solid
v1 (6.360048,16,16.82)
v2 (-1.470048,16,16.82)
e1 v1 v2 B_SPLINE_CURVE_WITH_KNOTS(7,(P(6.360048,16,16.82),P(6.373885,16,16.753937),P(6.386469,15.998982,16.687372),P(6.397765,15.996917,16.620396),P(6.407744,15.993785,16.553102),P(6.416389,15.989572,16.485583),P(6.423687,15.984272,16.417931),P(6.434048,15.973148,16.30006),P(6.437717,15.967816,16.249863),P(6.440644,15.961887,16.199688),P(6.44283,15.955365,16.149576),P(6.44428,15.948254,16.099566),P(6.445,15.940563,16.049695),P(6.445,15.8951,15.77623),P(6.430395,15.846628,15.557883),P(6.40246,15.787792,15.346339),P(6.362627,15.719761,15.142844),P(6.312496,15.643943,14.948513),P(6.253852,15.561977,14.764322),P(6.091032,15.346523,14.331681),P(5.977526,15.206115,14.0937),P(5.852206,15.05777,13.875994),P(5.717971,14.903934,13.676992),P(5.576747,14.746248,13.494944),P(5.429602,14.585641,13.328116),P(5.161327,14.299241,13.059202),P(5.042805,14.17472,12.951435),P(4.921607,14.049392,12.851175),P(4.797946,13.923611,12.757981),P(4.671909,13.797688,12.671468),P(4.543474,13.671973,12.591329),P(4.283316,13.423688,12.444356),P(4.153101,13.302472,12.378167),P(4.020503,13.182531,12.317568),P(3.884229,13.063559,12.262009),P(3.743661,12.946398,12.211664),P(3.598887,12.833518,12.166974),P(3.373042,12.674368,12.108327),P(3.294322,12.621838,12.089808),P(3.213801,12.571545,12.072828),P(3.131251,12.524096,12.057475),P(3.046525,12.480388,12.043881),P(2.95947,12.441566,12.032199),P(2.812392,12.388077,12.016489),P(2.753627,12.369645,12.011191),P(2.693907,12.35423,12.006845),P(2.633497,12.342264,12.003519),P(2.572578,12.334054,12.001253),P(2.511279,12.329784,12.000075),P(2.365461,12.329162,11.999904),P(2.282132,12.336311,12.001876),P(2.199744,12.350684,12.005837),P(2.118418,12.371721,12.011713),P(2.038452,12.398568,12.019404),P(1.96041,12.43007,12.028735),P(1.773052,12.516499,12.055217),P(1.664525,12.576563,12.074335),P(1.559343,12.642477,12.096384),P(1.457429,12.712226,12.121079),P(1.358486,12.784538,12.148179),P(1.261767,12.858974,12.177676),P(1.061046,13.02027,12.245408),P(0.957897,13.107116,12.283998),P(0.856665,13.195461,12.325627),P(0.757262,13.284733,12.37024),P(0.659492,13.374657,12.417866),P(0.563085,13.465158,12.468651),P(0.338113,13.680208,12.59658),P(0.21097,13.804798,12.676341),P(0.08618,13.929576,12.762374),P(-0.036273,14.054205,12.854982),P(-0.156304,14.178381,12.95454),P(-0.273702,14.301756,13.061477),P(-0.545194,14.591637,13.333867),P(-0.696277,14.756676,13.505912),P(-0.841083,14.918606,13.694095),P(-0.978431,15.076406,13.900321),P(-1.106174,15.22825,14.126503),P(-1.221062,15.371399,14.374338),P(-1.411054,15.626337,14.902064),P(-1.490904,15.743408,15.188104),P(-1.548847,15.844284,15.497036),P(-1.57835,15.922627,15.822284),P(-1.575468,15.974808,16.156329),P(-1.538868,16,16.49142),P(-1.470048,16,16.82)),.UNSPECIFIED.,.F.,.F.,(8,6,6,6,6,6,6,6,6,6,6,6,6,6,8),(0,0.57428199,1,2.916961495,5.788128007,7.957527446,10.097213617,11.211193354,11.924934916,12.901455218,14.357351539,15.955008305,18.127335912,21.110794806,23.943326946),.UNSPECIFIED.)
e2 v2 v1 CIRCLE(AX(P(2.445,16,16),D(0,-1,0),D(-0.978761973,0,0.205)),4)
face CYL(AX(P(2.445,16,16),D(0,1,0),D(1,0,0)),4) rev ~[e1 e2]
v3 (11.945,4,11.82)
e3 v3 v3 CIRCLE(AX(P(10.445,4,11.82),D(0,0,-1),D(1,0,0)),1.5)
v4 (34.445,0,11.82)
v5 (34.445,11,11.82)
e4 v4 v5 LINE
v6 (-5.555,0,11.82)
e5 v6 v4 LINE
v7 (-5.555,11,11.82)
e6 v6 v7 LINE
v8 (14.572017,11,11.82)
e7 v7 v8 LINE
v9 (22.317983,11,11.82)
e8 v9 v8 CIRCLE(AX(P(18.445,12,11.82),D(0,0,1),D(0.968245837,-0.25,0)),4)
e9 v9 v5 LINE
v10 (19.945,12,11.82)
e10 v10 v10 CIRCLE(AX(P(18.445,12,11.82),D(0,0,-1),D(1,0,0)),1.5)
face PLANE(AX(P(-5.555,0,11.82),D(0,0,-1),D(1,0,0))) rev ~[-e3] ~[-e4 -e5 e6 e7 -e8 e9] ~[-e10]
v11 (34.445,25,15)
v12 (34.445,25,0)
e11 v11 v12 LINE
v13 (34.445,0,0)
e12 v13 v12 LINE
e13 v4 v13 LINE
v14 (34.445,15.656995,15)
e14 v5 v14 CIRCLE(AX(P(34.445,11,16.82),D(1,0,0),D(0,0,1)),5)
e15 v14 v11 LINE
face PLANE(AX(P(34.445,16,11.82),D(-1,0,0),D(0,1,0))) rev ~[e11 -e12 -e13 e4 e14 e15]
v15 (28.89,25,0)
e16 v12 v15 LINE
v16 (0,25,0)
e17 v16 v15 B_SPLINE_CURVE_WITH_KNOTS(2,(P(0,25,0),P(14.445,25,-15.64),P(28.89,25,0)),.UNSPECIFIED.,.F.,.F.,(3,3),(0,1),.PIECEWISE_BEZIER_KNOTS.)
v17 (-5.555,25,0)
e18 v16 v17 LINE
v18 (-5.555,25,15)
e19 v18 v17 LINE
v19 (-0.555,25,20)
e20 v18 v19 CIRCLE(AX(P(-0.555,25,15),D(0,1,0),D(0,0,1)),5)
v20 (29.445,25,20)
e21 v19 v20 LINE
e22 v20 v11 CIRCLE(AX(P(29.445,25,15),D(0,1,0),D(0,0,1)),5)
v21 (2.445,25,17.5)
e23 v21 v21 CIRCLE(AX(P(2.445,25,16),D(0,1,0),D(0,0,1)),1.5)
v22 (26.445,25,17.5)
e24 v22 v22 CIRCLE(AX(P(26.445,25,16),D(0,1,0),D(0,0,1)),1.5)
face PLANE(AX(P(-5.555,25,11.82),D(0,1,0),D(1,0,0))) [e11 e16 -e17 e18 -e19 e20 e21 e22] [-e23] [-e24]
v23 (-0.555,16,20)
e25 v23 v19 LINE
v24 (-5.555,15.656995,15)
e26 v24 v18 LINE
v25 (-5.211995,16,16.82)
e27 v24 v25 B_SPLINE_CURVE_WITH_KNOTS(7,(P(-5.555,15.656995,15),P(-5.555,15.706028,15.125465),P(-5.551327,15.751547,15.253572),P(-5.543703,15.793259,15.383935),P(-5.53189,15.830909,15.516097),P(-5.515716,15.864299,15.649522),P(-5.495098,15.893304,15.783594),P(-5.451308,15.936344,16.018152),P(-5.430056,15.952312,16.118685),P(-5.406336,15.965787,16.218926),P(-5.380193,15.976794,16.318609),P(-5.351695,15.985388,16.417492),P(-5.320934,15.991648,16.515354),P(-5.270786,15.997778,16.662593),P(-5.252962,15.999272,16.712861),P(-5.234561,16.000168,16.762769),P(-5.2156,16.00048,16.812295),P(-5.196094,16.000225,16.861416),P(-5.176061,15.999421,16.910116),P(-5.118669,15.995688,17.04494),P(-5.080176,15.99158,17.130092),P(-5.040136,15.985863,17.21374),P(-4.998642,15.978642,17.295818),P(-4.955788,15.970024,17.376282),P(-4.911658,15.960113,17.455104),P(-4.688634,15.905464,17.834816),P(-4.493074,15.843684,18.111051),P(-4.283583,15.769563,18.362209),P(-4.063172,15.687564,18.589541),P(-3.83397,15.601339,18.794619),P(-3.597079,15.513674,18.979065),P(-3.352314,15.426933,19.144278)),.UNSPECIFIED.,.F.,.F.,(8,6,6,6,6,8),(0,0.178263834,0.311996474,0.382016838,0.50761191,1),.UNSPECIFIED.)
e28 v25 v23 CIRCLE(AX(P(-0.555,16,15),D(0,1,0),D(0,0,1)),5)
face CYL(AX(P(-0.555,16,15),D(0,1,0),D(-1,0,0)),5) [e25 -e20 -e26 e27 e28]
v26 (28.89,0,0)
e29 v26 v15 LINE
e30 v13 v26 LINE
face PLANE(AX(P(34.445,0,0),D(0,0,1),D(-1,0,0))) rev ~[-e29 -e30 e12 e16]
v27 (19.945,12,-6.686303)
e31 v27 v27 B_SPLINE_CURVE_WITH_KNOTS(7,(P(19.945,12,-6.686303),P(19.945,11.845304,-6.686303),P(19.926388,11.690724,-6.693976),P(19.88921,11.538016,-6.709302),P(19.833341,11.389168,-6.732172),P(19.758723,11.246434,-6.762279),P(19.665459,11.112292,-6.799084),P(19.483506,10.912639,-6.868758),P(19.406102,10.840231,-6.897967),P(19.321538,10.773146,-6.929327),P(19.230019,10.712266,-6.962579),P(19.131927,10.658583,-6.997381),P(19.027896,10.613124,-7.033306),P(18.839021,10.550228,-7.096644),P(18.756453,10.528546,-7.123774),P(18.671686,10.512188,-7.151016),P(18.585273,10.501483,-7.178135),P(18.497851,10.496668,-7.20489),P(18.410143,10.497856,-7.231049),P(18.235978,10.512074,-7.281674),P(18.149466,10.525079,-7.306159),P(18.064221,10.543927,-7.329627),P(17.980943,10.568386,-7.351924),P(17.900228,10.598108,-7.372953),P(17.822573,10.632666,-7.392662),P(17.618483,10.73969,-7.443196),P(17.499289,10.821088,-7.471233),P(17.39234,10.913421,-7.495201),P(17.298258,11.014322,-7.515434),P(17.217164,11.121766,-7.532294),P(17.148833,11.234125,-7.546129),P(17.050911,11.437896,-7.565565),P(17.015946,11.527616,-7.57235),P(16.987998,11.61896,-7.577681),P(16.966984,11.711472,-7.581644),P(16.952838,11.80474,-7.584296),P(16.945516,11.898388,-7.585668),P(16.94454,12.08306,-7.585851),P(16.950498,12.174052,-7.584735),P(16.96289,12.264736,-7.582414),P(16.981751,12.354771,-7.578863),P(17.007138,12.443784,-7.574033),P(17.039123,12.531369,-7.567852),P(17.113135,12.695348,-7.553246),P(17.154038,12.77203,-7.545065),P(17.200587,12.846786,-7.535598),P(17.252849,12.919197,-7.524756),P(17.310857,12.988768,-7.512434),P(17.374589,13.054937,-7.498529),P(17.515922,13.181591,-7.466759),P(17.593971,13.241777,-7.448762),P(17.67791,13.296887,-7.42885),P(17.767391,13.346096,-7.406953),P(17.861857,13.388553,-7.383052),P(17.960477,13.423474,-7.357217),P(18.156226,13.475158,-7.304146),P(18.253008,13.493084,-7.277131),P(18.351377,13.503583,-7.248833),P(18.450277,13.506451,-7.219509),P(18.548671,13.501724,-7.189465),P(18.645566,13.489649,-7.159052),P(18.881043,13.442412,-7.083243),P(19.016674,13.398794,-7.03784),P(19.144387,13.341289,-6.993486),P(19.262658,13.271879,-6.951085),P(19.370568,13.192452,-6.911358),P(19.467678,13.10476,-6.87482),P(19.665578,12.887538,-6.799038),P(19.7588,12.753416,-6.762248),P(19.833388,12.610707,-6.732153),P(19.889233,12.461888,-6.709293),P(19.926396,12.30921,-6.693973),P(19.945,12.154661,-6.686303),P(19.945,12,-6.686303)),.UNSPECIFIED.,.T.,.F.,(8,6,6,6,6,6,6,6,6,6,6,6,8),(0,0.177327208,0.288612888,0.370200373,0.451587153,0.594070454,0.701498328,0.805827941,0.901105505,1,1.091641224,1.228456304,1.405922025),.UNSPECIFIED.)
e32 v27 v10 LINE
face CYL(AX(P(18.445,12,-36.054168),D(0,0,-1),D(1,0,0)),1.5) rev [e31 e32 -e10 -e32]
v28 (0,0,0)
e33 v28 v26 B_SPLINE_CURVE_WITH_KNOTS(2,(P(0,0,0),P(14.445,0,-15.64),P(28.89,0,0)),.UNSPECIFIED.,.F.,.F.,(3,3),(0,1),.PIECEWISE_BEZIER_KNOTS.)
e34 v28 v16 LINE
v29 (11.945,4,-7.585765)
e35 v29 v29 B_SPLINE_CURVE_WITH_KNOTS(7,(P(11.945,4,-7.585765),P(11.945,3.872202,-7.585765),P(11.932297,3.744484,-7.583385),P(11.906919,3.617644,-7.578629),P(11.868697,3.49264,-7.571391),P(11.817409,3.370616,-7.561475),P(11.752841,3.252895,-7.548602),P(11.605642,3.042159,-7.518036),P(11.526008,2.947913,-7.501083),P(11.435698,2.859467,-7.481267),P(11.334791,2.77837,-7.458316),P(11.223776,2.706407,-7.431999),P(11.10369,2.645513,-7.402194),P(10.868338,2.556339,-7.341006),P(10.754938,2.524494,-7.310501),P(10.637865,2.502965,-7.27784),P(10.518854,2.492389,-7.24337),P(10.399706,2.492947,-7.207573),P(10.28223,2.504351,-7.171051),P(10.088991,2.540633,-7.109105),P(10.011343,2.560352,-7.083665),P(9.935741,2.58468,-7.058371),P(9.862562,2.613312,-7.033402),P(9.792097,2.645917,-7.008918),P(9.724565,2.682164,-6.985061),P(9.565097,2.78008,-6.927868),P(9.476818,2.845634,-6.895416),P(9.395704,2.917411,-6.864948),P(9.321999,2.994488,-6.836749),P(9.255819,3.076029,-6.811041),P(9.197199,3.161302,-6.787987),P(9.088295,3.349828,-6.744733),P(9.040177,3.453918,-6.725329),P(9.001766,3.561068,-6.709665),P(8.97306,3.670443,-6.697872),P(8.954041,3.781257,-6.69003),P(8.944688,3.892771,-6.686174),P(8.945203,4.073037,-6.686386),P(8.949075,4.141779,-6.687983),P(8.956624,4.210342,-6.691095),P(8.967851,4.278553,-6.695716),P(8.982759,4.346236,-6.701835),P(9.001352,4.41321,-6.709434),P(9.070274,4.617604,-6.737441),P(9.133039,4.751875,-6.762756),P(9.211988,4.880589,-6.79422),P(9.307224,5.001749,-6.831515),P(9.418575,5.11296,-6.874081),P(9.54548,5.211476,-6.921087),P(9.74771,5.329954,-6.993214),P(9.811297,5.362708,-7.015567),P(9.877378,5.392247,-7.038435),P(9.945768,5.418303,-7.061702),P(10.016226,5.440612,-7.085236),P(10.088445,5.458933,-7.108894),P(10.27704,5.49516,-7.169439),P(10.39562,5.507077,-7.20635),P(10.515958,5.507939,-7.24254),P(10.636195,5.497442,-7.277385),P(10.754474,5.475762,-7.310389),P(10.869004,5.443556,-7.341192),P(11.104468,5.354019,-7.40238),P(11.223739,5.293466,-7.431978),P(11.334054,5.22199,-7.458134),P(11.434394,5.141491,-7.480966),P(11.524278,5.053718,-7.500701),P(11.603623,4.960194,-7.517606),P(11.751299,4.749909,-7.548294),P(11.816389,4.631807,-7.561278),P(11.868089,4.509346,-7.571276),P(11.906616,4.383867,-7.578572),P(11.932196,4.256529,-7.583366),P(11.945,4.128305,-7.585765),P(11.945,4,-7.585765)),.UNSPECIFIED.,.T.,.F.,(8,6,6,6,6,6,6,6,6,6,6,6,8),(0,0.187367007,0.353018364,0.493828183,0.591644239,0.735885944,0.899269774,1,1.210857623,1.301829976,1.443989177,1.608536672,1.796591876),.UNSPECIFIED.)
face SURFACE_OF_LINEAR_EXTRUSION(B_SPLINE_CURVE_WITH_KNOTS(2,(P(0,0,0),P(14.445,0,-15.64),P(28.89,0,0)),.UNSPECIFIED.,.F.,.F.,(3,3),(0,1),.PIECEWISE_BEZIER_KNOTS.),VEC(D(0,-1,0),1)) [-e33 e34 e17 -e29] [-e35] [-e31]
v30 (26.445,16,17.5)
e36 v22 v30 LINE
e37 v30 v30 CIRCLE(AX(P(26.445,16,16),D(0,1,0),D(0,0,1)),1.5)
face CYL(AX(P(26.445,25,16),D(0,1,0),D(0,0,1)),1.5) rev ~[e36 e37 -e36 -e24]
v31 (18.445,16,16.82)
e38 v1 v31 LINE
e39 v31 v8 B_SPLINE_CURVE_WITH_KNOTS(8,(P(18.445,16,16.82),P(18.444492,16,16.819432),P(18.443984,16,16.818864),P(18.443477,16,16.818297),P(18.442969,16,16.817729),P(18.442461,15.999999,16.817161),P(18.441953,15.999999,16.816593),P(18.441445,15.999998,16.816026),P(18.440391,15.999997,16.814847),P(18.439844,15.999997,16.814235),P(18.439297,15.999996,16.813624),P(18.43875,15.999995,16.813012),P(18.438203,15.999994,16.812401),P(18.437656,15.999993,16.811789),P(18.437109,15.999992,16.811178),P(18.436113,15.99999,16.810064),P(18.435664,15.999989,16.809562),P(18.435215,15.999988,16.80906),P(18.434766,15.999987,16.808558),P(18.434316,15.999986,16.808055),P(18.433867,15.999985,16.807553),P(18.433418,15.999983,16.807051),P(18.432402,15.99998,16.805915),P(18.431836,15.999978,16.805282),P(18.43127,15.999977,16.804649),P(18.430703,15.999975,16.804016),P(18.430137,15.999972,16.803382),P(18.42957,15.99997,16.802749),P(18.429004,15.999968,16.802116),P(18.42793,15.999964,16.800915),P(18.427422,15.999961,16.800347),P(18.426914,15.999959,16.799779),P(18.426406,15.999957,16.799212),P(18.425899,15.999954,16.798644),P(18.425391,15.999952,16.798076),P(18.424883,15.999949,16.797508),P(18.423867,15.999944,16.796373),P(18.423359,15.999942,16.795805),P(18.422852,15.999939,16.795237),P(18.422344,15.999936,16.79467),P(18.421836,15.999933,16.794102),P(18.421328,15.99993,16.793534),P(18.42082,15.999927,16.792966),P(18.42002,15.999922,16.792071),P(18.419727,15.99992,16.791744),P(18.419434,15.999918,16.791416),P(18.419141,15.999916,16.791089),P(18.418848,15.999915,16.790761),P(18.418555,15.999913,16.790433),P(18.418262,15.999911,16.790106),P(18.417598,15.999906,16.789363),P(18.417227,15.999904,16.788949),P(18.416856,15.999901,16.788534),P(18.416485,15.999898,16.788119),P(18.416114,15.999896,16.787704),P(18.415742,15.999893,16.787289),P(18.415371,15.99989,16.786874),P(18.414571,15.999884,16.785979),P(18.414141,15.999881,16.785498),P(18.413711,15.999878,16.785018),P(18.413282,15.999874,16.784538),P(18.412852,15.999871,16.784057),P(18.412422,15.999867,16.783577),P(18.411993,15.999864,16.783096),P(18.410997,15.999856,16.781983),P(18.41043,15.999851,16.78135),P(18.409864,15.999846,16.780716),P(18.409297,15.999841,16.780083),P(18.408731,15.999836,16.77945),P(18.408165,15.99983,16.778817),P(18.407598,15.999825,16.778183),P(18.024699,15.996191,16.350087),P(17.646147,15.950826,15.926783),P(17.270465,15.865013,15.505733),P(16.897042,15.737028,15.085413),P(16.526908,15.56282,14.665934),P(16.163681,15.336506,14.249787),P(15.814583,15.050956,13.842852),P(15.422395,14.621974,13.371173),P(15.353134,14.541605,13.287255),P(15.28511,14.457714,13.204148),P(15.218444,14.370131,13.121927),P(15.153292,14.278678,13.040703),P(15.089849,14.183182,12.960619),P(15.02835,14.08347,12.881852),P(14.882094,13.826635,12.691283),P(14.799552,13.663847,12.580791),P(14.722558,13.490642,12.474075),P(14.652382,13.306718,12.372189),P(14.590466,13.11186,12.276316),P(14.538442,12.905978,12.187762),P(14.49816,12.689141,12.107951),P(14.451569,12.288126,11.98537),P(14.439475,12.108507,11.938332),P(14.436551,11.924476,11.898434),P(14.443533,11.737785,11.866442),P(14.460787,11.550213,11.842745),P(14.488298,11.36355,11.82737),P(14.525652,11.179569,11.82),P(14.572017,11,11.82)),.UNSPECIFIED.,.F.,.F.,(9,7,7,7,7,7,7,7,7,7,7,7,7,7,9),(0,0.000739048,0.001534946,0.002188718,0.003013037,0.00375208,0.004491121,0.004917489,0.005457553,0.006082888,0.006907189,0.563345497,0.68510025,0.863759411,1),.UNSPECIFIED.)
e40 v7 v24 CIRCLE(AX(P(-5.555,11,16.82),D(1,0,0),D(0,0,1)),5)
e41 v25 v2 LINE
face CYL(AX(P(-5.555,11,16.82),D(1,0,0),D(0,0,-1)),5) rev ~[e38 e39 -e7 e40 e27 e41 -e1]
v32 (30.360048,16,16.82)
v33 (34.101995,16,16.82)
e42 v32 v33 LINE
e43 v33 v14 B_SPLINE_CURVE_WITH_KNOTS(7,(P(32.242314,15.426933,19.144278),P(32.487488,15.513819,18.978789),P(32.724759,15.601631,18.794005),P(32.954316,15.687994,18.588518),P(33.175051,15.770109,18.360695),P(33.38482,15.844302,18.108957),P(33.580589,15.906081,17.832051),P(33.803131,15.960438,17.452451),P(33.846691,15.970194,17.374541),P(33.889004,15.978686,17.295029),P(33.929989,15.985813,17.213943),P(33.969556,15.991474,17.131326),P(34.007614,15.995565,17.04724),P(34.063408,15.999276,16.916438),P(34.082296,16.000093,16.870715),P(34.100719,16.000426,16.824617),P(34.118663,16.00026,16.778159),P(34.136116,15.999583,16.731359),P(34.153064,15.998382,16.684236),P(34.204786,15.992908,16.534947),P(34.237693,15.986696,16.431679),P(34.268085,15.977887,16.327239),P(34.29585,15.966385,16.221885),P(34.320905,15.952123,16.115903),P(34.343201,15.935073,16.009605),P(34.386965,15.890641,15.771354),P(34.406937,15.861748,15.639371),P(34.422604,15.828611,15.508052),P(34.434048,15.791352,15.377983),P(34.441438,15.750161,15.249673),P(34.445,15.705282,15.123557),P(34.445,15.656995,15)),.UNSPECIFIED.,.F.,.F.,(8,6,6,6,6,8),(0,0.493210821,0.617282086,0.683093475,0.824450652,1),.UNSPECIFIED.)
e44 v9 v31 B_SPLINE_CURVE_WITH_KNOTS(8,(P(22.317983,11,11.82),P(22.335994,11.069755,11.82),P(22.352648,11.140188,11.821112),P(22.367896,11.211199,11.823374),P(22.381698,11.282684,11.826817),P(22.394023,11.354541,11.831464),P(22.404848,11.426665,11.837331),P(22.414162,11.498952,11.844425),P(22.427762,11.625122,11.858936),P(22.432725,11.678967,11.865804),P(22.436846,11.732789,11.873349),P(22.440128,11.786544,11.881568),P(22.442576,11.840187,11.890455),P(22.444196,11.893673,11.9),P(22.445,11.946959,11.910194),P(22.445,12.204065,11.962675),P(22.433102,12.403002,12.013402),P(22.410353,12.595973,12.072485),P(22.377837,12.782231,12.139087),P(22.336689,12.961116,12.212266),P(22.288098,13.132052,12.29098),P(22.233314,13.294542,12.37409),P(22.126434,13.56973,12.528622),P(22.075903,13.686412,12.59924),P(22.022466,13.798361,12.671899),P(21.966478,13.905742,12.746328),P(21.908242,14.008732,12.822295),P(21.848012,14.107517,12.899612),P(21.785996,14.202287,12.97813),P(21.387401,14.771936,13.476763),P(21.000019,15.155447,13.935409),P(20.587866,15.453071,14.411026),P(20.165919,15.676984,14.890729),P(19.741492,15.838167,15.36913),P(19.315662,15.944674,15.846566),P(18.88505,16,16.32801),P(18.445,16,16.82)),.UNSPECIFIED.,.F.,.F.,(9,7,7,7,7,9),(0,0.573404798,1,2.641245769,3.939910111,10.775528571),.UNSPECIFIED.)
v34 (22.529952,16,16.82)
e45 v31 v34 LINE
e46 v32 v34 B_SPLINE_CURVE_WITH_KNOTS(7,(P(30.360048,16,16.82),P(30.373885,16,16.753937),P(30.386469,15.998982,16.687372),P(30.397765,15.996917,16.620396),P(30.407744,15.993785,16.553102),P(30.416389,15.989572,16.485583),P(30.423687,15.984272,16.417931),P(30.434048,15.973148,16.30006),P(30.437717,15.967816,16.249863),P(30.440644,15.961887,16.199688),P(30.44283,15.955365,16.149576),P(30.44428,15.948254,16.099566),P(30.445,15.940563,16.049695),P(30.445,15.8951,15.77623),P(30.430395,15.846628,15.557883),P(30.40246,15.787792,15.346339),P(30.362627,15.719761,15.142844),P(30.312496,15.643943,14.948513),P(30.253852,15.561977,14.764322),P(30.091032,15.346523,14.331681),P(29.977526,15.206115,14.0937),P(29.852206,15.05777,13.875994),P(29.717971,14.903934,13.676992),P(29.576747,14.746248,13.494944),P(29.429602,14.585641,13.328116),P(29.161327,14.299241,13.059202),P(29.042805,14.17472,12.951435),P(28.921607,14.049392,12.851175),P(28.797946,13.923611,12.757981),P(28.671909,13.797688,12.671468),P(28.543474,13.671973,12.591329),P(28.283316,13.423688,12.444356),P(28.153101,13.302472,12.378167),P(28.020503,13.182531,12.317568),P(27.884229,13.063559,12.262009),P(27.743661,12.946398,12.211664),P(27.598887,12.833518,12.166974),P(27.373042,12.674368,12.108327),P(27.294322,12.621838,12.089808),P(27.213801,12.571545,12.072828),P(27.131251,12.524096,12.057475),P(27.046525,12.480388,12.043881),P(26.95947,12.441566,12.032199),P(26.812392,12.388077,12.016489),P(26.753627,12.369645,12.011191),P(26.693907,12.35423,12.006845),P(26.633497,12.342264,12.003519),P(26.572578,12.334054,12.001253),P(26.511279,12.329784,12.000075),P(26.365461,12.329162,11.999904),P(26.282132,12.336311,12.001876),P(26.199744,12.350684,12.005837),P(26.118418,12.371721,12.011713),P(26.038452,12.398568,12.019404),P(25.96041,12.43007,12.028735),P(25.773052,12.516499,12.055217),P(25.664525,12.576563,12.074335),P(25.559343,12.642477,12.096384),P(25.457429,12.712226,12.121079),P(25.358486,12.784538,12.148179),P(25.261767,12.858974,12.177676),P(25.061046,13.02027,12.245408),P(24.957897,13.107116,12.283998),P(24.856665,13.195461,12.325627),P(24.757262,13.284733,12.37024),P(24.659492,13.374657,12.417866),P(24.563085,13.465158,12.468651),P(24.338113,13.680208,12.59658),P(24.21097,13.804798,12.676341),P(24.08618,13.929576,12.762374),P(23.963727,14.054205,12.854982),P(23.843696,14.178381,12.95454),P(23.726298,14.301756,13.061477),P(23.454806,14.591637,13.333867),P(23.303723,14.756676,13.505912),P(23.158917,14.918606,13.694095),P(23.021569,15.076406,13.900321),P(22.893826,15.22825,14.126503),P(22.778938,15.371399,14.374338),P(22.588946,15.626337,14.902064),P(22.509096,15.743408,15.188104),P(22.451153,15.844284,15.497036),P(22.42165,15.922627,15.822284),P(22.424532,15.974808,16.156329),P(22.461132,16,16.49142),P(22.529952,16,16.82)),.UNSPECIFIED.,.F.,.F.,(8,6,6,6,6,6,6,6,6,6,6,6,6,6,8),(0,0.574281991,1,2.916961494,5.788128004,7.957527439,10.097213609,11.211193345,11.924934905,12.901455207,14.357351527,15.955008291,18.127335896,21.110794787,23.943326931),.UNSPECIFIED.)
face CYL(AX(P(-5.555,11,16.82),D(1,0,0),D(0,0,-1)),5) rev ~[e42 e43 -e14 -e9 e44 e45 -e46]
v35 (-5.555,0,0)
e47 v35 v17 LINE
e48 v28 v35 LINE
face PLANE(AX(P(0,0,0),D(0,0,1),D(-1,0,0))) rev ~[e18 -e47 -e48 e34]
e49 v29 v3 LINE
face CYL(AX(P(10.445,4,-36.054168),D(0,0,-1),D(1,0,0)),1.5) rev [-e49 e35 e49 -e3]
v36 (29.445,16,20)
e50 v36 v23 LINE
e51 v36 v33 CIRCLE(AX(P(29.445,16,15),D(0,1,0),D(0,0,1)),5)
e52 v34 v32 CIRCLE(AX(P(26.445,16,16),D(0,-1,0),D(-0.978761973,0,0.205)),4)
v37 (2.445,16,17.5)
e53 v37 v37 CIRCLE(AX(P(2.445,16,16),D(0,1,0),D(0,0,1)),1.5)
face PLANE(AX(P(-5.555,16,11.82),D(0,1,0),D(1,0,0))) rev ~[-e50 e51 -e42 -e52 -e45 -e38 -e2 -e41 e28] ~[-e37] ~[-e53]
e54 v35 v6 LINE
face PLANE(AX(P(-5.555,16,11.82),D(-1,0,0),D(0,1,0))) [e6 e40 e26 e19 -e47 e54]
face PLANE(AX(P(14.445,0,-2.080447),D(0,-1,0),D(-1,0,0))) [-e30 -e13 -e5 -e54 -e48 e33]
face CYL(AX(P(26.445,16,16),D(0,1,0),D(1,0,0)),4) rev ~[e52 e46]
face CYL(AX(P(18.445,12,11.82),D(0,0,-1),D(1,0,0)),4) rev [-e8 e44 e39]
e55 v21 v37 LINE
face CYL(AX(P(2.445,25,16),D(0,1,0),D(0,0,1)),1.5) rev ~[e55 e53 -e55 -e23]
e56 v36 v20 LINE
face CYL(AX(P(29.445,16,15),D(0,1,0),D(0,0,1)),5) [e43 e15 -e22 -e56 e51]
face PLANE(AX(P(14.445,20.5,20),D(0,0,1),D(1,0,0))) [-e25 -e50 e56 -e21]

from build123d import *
from build123d.topology import SkipClean

# Parameters (mm, degrees)
BOSS_EXTRUDE1_DEPTH     = 25
SKETCH2_W               = 40
SKETCH2_H               = 9
BOSS_EXTRUDE2_DEPTH     = 8.18
FILLET1_R               = 5
CUT_EXTRUDE1_DEPTH      = 47.874168161
CUT_EXTRUDE1_DEPTH_BACK = 47.874168161
SKETCH3_R               = 1.5
SKETCH3_4_R             = 4
CUT_EXTRUDE6_DEPTH      = 47.874168161
SKETCH6_R               = 1.5
CUT_EXTRUDE7_DEPTH      = 48.026142101
CUT_EXTRUDE8_START      = -9
SKETCH6_3_R             = 4
CUT_EXTRUDE8_DEPTH      = 40
FILLET2_R               = 5


with BuildPart() as part:
    # Sketch1 → Boss-Extrude1 (new body)
    with BuildSketch(Plane(origin=(0, 0, 0), x_dir=(1, 0, 0), z_dir=(0, 1, 0))):
        with BuildLine():
            add(Edge.make_bspline(
                [(0, 0), (14.445, 15.64), (28.89, 0)],
                knots=[0, 0, 0, 1, 1, 1], degree=2))
            Line((28.89, 0), (0, 0))
        make_face()
        Polygon((-5.555, -11.82), (34.445, -11.82), (34.445, 0), (28.89, 0), (0, 0), (-5.555, 0), align=None)
    extrude(amount=BOSS_EXTRUDE1_DEPTH)

    # Sketch2 → Boss-Extrude2 (add)
    with BuildSketch(Plane.XY.offset(11.82)):
        with Locations((14.445, 20.5)):
            Rectangle(SKETCH2_W, SKETCH2_H)
    extrude(amount=BOSS_EXTRUDE2_DEPTH)

    # Fillet1
    fillet1_edges = [part.edges().sort_by_distance(p)[0] for p in [
        (14.445, 16, 11.82),
    ]]
    fillet(fillet1_edges, radius=FILLET1_R)

    # Sketch3 → Cut-Extrude1 (cut, two sides: drawn at the far end of the back side and taken through both)
    with BuildSketch(Plane.XY.offset(11.82).offset(-CUT_EXTRUDE1_DEPTH_BACK)):
        with Locations((18.445, 12)):
            Circle(SKETCH3_R)
        with Locations((10.445, 4)):
            Circle(SKETCH3_R)
    extrude(amount=CUT_EXTRUDE1_DEPTH + CUT_EXTRUDE1_DEPTH_BACK, mode=Mode.SUBTRACT)

    # Sketch3<4> → Cut-Extrude6 (cut, through all)
    with SkipClean():  # the faces are left unmerged after this step: merging them gives an invalid solid
        with BuildSketch(Plane.XY.offset(11.82)):
            with Locations((18.445, 12)):
                Circle(SKETCH3_4_R)
        extrude(amount=CUT_EXTRUDE6_DEPTH, mode=Mode.SUBTRACT)

    # Sketch6 → Cut-Extrude7 (cut, through all)
    with SkipClean():  # the faces are left unmerged after this step: merging them gives an invalid solid
        with BuildSketch(Plane(origin=(0, 25, 0), x_dir=(1, 0, 0), z_dir=(0, 1, 0))):
            with Locations(Location((2.445, -16, 0), (0, 0, 270))):
                Circle(SKETCH6_R)
            with Locations(Location((26.445, -16, 0), (0, 0, 270))):
                Circle(SKETCH6_R)
        extrude(amount=-CUT_EXTRUDE7_DEPTH, mode=Mode.SUBTRACT)

    # Sketch6<3> → Cut-Extrude8 (cut)
    with SkipClean():  # the faces are left unmerged after this step: merging them gives an invalid solid
        with BuildSketch(Plane(origin=(0, 25, 0), x_dir=(1, 0, 0), z_dir=(0, 1, 0)).offset(CUT_EXTRUDE8_START)):
            with Locations((2.445, -16)):
                Circle(SKETCH6_3_R)
            with Locations((26.445, -16)):
                Circle(SKETCH6_3_R)
        extrude(amount=-CUT_EXTRUDE8_DEPTH, mode=Mode.SUBTRACT)

    # Fillet2
    fillet2_edges = [part.edges().sort_by_distance(p)[0] for p in [
        (34.445, 20.5, 20),
        (-5.555, 20.5, 20),
    ]]
    fillet(fillet2_edges, radius=FILLET2_R)


solid = part.part
